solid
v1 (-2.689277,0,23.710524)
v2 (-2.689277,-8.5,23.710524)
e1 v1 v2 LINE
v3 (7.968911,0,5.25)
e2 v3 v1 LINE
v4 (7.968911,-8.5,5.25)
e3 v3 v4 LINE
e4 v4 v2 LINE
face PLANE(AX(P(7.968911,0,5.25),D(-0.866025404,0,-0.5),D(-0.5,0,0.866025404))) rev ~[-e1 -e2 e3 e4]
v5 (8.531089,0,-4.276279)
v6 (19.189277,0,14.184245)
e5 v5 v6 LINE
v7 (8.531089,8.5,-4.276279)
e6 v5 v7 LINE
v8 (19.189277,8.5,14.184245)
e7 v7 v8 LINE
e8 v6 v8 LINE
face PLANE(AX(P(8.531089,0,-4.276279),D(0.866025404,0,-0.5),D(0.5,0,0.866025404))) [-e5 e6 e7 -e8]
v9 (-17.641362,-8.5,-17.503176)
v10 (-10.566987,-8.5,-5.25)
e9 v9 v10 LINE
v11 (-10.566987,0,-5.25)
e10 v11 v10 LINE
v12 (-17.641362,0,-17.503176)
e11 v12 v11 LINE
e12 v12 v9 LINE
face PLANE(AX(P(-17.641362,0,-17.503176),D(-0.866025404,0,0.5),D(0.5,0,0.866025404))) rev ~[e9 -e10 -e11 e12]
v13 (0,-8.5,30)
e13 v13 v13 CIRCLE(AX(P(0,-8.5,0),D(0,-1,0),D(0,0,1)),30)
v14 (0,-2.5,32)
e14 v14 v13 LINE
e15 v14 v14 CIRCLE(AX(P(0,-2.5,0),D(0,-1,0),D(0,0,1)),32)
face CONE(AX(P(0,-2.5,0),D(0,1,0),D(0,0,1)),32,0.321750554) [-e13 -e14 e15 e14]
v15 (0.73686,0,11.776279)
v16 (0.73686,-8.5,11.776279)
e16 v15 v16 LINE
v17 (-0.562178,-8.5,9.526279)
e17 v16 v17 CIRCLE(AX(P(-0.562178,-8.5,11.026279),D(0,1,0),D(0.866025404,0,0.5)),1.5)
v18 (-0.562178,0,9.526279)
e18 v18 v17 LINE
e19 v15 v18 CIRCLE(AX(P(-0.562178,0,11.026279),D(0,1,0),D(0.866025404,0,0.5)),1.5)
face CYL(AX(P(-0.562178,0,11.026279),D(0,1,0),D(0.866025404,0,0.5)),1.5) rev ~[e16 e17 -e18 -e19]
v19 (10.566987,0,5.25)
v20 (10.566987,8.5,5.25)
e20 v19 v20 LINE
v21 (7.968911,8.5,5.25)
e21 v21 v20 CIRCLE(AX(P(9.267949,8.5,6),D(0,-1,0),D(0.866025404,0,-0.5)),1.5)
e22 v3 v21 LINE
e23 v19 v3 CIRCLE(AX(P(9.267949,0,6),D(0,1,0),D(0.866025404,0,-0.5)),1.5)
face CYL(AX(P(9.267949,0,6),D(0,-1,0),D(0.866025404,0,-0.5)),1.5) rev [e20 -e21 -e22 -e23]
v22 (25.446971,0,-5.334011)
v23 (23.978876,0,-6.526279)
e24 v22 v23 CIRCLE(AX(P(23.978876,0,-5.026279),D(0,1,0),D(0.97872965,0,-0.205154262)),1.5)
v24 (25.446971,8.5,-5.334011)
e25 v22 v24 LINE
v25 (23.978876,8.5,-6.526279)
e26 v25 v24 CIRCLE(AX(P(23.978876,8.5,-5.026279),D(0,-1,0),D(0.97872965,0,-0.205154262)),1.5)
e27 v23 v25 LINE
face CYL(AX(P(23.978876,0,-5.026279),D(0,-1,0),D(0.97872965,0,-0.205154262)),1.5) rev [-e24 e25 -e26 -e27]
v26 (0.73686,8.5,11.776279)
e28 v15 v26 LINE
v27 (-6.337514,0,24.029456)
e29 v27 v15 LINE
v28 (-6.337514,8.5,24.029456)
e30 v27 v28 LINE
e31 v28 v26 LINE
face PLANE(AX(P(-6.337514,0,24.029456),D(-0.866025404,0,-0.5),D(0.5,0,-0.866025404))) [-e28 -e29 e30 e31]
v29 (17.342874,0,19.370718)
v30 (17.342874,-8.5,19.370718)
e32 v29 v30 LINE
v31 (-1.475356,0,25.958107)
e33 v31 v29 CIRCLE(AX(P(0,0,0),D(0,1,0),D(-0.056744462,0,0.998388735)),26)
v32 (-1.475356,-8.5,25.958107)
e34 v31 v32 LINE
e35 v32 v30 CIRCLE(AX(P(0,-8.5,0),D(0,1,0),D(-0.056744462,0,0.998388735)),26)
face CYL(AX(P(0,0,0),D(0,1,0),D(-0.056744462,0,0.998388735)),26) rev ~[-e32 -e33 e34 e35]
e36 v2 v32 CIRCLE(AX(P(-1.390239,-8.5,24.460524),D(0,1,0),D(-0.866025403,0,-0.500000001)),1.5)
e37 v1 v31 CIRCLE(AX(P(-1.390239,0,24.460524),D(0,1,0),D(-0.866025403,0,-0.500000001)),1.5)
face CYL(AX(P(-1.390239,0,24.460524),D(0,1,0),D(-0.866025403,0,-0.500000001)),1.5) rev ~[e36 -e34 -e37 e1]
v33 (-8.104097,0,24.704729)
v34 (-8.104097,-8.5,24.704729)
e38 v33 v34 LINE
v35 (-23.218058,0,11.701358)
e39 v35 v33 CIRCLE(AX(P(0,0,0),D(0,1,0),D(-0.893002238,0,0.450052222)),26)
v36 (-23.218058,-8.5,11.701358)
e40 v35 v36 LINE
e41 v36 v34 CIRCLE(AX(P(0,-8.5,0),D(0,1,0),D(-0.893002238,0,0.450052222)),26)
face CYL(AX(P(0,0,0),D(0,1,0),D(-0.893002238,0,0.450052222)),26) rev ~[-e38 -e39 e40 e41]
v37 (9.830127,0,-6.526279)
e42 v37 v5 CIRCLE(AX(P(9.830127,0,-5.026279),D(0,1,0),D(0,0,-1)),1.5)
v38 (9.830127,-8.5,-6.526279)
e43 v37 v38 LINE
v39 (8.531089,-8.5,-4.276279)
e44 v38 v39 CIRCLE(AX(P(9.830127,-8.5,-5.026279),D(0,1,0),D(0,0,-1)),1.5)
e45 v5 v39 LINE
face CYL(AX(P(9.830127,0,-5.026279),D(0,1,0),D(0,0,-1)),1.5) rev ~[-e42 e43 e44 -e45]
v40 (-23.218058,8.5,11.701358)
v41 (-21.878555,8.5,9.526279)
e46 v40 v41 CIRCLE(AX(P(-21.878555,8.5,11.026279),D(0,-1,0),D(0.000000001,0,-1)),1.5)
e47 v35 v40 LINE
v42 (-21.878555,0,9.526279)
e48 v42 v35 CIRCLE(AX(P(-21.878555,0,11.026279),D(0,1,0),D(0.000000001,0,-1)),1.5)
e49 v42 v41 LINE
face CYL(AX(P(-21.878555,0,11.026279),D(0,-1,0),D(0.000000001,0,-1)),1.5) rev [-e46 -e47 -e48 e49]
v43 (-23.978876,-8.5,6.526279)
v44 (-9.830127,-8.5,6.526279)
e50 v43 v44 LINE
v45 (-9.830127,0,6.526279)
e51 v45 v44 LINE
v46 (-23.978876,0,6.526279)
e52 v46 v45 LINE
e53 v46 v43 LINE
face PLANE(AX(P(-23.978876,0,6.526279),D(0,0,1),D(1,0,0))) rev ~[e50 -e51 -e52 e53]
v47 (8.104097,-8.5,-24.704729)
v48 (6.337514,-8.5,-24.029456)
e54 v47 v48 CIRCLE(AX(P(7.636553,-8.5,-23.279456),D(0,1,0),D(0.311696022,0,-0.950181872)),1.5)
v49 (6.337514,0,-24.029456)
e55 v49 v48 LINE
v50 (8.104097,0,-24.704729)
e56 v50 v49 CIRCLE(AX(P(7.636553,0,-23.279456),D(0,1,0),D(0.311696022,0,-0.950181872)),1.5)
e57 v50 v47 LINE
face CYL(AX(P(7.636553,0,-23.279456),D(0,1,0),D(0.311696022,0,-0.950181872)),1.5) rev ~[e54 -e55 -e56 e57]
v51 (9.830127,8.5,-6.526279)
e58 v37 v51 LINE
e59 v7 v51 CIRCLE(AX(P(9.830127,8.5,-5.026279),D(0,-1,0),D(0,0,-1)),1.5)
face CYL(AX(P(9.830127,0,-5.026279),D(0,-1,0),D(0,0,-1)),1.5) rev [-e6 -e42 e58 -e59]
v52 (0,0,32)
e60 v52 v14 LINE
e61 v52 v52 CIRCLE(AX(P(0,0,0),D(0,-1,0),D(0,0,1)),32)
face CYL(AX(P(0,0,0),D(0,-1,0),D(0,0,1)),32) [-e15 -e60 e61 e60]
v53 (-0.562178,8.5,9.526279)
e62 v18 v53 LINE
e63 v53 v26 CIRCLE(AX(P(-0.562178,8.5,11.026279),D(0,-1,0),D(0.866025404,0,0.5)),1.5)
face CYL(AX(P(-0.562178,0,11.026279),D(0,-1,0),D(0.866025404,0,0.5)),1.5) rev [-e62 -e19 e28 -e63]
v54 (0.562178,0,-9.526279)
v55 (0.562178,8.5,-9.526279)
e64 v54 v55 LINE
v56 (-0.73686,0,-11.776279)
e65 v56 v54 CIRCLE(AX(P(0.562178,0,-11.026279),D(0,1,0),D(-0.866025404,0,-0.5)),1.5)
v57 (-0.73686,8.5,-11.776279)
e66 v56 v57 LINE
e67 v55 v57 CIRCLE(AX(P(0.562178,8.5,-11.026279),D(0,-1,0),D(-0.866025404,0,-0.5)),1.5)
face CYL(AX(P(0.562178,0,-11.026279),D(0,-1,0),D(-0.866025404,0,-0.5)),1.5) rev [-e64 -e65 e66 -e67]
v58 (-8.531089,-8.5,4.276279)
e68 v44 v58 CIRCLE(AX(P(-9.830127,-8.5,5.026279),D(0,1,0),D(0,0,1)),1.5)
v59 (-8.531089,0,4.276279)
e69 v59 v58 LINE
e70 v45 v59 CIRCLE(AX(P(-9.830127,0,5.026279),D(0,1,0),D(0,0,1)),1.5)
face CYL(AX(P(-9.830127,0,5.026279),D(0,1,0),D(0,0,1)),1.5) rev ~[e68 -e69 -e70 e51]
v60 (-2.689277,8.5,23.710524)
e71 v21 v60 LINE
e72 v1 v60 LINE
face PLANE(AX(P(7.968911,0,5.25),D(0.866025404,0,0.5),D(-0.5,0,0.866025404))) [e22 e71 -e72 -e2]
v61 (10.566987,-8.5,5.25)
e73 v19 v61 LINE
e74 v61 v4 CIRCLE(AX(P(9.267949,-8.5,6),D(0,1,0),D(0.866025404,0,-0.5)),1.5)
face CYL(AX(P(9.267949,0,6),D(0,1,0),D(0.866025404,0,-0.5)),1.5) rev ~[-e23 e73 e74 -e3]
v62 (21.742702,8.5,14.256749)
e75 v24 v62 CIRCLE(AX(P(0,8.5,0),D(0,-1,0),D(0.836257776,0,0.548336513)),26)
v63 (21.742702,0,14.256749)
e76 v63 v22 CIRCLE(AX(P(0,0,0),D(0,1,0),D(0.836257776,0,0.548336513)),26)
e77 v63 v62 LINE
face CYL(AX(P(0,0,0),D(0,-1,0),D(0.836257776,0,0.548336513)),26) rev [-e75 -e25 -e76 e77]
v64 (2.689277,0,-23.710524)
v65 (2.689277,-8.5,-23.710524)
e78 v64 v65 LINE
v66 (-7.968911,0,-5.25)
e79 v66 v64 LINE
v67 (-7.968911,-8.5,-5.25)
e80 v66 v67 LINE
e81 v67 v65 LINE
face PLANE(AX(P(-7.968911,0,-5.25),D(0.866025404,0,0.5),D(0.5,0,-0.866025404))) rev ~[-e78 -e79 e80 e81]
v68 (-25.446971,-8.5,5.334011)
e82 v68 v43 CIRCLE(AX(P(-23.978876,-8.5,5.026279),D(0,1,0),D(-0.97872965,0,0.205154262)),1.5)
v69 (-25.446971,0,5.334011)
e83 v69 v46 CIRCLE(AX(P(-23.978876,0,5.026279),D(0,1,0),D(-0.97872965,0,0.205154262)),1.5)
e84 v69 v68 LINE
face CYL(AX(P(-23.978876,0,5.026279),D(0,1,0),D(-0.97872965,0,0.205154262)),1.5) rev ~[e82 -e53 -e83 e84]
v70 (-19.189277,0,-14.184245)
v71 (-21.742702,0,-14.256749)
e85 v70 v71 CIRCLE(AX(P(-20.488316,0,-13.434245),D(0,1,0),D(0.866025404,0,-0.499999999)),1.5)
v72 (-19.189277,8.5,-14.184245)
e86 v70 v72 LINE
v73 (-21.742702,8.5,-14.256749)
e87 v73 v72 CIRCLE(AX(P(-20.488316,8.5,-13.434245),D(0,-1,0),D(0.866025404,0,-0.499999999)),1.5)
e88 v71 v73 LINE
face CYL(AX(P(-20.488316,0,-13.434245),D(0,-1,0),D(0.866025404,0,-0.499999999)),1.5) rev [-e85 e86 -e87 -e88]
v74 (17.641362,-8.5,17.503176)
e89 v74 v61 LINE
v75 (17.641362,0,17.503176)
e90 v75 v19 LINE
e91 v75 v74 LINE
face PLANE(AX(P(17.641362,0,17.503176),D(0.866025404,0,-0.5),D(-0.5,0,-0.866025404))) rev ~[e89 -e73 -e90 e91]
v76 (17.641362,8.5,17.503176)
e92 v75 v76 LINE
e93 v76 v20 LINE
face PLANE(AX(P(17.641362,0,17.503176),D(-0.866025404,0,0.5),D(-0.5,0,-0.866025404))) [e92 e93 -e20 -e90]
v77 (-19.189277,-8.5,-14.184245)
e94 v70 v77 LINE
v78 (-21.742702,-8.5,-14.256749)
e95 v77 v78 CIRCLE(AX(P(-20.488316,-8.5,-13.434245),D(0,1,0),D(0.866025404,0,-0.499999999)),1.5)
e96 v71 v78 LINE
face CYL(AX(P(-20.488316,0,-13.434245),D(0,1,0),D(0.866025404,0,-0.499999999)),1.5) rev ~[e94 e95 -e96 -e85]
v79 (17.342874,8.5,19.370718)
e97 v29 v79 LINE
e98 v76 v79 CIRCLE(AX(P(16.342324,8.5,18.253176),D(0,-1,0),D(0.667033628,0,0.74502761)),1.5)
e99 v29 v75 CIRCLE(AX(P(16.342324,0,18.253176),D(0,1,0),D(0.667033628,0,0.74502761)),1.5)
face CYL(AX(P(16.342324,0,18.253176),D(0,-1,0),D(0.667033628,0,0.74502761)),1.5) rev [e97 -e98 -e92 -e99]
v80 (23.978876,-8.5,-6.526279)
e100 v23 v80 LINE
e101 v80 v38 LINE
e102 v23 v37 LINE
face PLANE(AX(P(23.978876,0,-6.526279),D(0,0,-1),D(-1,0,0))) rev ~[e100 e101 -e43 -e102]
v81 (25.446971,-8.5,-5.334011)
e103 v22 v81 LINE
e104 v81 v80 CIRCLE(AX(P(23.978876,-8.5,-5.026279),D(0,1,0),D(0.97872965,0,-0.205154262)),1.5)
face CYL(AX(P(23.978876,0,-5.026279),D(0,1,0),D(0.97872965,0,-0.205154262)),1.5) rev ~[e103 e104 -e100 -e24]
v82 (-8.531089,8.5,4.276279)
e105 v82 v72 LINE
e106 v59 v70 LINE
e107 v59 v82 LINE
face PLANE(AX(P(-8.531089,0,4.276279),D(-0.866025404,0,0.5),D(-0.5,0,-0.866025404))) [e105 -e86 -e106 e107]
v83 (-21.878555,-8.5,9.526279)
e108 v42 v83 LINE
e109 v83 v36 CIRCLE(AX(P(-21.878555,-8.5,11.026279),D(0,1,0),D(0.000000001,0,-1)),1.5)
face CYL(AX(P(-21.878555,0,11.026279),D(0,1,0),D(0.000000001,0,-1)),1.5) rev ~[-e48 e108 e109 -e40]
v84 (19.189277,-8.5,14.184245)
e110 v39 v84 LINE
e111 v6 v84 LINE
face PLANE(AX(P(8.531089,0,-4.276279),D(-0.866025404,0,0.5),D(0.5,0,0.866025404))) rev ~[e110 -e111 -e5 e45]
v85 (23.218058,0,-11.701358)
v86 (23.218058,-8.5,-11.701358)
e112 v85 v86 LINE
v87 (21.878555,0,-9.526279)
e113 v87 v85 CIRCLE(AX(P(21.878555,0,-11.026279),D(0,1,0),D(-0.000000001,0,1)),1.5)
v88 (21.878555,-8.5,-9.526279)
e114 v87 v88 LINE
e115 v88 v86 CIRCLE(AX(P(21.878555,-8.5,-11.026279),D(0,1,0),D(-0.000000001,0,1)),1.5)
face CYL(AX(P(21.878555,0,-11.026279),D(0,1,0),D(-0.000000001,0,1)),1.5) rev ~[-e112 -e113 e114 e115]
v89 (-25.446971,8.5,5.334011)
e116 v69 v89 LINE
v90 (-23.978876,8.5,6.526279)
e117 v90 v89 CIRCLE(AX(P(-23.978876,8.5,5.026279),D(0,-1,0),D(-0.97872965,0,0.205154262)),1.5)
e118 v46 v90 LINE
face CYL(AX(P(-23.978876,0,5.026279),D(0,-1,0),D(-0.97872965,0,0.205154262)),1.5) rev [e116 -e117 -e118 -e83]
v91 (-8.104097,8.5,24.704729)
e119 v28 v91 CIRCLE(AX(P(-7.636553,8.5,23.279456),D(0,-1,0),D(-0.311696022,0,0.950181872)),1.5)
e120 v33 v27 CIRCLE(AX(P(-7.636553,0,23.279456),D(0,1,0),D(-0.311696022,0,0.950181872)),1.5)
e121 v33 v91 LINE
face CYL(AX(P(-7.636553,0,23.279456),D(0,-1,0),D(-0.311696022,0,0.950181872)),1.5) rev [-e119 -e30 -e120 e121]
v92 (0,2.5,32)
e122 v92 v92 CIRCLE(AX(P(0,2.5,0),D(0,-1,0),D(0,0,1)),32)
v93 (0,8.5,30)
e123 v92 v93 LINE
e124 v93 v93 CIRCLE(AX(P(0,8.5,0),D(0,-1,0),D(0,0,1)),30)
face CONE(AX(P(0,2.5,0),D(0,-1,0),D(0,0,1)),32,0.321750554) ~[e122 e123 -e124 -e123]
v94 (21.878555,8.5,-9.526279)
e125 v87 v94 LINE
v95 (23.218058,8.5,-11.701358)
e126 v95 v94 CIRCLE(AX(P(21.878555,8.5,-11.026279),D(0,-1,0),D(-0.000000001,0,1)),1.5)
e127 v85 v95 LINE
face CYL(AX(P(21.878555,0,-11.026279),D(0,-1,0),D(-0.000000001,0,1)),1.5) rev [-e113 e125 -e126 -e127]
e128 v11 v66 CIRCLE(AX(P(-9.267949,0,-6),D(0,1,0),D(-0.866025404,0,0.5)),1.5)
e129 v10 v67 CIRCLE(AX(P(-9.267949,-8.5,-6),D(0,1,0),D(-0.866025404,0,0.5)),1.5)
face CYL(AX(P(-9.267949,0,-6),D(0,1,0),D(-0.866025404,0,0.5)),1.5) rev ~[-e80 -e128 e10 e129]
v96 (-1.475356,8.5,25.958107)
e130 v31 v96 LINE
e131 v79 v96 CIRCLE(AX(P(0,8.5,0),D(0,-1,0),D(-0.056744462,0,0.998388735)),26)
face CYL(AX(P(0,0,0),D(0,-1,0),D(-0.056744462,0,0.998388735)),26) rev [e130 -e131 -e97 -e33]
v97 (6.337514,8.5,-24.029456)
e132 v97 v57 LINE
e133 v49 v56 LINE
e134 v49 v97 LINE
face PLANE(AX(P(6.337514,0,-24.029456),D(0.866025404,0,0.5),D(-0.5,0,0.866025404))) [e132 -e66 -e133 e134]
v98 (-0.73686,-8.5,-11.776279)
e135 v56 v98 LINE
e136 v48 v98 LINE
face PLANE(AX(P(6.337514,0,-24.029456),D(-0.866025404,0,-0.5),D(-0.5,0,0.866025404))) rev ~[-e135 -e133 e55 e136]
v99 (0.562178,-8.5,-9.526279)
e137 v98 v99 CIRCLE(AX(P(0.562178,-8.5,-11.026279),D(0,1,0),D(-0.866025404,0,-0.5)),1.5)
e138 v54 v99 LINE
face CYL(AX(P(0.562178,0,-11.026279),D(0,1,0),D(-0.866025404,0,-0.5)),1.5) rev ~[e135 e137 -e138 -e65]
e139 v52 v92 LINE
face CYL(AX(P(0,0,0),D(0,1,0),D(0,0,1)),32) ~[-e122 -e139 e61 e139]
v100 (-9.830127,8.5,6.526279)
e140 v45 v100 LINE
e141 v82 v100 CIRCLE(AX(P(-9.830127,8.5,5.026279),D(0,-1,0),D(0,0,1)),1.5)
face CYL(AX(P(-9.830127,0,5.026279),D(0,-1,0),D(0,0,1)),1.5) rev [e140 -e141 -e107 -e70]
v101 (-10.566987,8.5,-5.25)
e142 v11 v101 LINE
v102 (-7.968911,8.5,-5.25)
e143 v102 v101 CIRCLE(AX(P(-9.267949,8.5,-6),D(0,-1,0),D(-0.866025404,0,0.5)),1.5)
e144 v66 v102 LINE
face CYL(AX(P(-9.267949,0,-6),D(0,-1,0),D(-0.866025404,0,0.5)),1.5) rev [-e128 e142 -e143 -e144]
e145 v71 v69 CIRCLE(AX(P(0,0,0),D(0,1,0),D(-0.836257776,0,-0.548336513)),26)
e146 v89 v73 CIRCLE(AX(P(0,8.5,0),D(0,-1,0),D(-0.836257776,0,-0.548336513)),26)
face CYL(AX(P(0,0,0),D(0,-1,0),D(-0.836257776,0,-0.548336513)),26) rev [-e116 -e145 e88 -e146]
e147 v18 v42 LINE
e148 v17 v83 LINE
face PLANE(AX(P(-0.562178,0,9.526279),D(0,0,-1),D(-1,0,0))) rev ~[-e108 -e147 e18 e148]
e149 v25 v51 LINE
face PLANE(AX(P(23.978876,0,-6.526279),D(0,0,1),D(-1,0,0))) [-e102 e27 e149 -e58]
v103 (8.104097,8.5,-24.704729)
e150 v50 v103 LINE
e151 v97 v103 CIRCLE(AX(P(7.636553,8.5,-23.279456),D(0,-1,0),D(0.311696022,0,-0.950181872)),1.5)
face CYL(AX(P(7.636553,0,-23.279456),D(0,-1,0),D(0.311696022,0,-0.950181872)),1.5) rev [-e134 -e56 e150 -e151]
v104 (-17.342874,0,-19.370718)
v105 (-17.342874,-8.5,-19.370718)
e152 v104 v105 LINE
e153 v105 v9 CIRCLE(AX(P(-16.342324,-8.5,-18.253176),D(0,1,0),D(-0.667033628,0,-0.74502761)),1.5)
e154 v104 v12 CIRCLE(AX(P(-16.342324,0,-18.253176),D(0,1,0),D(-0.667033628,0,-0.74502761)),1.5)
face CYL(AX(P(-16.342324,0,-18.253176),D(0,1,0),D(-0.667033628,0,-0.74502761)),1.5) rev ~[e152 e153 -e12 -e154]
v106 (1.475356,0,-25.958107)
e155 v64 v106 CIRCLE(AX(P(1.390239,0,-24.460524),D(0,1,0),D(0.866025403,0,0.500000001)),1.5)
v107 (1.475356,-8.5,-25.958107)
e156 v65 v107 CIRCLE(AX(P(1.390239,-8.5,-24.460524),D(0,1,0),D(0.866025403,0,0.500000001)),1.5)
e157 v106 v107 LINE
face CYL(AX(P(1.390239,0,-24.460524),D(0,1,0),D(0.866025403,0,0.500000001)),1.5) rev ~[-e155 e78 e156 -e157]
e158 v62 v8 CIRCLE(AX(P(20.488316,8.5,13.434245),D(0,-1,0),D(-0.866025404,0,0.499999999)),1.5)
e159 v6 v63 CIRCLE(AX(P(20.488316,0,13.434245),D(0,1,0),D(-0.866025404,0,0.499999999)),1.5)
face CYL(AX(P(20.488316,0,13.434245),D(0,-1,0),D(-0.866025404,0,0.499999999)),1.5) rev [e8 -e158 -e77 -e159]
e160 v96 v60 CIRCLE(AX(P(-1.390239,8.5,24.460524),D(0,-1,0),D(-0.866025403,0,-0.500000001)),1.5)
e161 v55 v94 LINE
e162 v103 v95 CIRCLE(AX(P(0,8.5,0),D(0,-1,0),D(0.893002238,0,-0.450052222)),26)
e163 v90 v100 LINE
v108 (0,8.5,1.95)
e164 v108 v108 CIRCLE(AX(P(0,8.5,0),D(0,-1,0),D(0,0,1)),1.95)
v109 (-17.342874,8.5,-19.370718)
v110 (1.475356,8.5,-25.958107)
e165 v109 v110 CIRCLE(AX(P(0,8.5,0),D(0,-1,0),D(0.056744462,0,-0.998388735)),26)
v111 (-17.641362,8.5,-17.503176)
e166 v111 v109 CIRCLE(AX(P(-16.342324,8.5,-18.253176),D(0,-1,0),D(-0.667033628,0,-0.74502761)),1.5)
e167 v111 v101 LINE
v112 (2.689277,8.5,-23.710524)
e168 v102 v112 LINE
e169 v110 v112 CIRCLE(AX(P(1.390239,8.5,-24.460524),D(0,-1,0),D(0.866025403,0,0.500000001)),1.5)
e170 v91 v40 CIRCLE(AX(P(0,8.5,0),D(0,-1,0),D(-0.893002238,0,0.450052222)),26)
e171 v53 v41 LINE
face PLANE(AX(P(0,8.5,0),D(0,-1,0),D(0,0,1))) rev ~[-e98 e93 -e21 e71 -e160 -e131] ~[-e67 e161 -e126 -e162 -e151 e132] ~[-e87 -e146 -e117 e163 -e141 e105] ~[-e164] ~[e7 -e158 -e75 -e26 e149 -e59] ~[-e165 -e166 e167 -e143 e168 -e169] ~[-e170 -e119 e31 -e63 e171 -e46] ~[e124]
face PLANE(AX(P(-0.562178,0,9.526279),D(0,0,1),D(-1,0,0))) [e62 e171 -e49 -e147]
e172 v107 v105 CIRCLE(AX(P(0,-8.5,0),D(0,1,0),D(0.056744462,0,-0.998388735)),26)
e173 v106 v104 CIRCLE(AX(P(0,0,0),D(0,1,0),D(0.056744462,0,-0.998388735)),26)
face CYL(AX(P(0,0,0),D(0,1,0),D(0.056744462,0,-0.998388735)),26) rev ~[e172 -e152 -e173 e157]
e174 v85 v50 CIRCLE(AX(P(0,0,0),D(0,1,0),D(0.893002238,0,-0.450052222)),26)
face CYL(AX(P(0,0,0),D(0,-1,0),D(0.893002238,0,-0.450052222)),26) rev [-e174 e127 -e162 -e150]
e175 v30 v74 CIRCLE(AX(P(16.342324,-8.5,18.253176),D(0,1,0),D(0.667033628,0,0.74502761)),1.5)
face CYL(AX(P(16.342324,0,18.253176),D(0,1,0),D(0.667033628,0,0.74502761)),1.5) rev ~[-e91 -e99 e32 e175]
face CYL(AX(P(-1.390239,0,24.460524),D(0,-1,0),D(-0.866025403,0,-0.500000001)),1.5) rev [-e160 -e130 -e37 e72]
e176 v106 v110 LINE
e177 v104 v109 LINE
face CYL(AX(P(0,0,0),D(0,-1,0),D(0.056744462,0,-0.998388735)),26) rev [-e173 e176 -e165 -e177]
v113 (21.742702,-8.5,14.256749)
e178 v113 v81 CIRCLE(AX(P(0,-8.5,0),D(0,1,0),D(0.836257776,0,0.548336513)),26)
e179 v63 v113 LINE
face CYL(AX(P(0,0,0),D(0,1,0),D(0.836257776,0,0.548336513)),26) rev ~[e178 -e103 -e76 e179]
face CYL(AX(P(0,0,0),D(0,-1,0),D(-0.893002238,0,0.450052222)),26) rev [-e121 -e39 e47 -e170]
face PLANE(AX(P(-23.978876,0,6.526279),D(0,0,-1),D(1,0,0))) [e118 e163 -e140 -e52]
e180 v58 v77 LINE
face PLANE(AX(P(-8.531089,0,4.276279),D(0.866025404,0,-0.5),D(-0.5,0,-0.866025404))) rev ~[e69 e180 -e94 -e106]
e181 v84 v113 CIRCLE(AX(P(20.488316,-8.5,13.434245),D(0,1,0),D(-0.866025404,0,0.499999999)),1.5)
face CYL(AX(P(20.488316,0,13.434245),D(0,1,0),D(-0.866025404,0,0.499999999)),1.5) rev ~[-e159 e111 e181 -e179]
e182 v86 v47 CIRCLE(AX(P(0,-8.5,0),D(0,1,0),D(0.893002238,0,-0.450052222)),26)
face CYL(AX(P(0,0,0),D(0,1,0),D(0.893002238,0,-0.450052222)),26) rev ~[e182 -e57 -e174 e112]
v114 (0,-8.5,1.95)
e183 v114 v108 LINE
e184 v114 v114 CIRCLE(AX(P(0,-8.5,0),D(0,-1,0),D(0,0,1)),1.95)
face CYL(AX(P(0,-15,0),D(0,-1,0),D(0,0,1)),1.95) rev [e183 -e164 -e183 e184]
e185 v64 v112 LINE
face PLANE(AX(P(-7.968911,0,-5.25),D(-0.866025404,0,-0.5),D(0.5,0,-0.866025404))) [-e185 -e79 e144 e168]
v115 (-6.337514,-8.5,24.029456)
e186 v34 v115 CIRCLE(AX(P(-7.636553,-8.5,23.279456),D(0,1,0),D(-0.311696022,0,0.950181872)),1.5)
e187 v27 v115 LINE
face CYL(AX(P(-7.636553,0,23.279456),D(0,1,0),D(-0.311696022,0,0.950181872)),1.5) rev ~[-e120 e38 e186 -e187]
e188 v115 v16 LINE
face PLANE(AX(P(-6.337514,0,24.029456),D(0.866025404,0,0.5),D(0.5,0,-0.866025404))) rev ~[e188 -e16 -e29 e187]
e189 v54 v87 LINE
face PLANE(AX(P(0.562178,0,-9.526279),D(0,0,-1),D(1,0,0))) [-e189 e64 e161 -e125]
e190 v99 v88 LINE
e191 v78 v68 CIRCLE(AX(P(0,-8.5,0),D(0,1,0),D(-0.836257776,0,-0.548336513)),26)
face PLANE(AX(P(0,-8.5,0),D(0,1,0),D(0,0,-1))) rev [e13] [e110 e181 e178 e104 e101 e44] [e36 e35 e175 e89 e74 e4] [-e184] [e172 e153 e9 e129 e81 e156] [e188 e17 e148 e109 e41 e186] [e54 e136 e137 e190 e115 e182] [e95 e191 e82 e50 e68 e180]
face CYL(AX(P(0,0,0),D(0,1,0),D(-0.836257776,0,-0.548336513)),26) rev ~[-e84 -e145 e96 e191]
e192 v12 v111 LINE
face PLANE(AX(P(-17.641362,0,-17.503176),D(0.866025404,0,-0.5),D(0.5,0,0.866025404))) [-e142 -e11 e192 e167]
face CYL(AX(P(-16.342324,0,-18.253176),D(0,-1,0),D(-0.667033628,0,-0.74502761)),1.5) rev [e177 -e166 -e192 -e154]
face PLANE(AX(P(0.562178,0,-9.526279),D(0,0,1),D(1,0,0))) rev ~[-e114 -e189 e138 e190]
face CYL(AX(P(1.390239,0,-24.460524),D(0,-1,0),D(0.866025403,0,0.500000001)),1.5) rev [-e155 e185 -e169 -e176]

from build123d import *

# Parameters (mm, degrees)
CUT_EXTRUDE1_REACH             = 48.046
CUT_EXTRUDE1_DIRECTION_2_REACH = 48.046
CIRPATTERN1_COUNT              = 6
CUT_EXTRUDE2_DEPTH             = 15
CUT_EXTRUDE2_DEPTH_BACK        = 15
SKETCH6_R                      = 1.95


with BuildPart() as part:
    # Sketch2 → Revolve1 (revolve)
    with BuildSketch(Plane.XY, mode=Mode.PRIVATE) as revolve1_sk:
        Polygon((0, 0), (32, 0), (32, 2.5), (30, 8.5), (0, 8.5), align=None)
    revolve1 = revolve(revolve1_sk.sketch.rotate(Axis((0, 8.5, 0), (0, -1, 0)), 90), axis=Axis((0, 8.5, 0), (0, -1, 0)))

    # Mirror1: Revolve1 across plane
    add(revolve1.mirror(Plane.ZX))

    # Cut-Extrude1: up to this face of the body (flat: up to its plane)
    cut_extrude1_end = Plane(part.part.faces().sort_by_distance((0, 8.5, 0))[0])
    # Sketch3 → Cut-Extrude1 (cut, up to the picked face)
    with BuildSketch(Plane(origin=(0, 0, 0), x_dir=(1, 0, 0), z_dir=(0, 1, 0)), mode=Mode.PRIVATE) as cut_extrude1_sk1:
        with BuildLine():
            Line((0.562177826, 9.526279442), (5.5, 9.526279442))
            Line((5.5, 9.526279442), (21.878554835, 9.526279442))
            ThreePointArc((21.878554835, 9.526279442), (23.155781812, 10.23971015), (23.218058192, 11.701357775))
            ThreePointArc((23.218058192, 11.701357775), (16.957041557, 19.709356703), (8.104096566, 24.704728674))
            ThreePointArc((8.104096566, 24.704728674), (7.100974397, 24.680582577), (6.337514428, 24.029455866))
            Line((6.337514428, 24.029455866), (-0.736860279, 11.776279442))
            ThreePointArc((-0.736860279, 11.776279442), (-0.736860279, 10.276279442), (0.562177826, 9.526279442))
        make_face()
    cut_extrude1_tool1 = split(extrude(cut_extrude1_sk1.sketch, amount=CUT_EXTRUDE1_REACH, mode=Mode.PRIVATE), bisect_by=cut_extrude1_end, keep=Keep.BOTH, mode=Mode.PRIVATE)
    cut_extrude1 = cut_extrude1_tool1.solids().sort_by(Axis((10.856856, 0, -15.344995), (0, 1, 0)))[0]
    add(cut_extrude1, mode=Mode.SUBTRACT)

    # Cut-Extrude1 direction 2: up to this face of the body (flat: up to its plane)
    cut_extrude1_direction_2_end = Plane(part.part.faces().sort_by_distance((0, -8.5, 0))[0])
    # Sketch3 → Cut-Extrude1 direction 2 (cut, up to the picked face)
    with BuildSketch(Plane(origin=(0, 0, 0), x_dir=(1, 0, 0), z_dir=(0, 1, 0)), mode=Mode.PRIVATE) as cut_extrude1_direction_2_sk1:
        with BuildLine():
            Line((0.562177826, 9.526279442), (5.5, 9.526279442))
            Line((5.5, 9.526279442), (21.878554835, 9.526279442))
            ThreePointArc((21.878554835, 9.526279442), (23.155781812, 10.23971015), (23.218058192, 11.701357775))
            ThreePointArc((23.218058192, 11.701357775), (16.957041557, 19.709356703), (8.104096566, 24.704728674))
            ThreePointArc((8.104096566, 24.704728674), (7.100974397, 24.680582577), (6.337514428, 24.029455866))
            Line((6.337514428, 24.029455866), (-0.736860279, 11.776279442))
            ThreePointArc((-0.736860279, 11.776279442), (-0.736860279, 10.276279442), (0.562177826, 9.526279442))
        make_face()
    cut_extrude1_direction_2_tool1 = split(extrude(cut_extrude1_direction_2_sk1.sketch, amount=-CUT_EXTRUDE1_DIRECTION_2_REACH, mode=Mode.PRIVATE), bisect_by=cut_extrude1_direction_2_end, keep=Keep.BOTH, mode=Mode.PRIVATE)
    cut_extrude1_direction_2 = cut_extrude1_direction_2_tool1.solids().sort_by(Axis((10.856856, 0, -15.344995), (0, -1, 0)))[0]
    add(cut_extrude1_direction_2, mode=Mode.SUBTRACT)

    # CirPattern1: Cut-Extrude1, Cut-Extrude1 direction 2 ×6 about axis
    cirpattern1_axis = Axis((0, 0, 0), (0, 1, 0))
    add([cut_extrude1.rotate(cirpattern1_axis, i * 360 / CIRPATTERN1_COUNT) for i in range(1, CIRPATTERN1_COUNT)], mode=Mode.SUBTRACT)
    add([cut_extrude1_direction_2.rotate(cirpattern1_axis, i * 360 / CIRPATTERN1_COUNT) for i in range(1, CIRPATTERN1_COUNT)], mode=Mode.SUBTRACT)

    # Sketch6 → Cut-Extrude2 (cut, two sides: drawn at the far end of the back side and taken through both)
    with BuildSketch(Plane(origin=(0, 0, 0), x_dir=(1, 0, 0), z_dir=(0, 1, 0)).offset(-CUT_EXTRUDE2_DEPTH_BACK)):
        with Locations(Location((0, 0, 0), (0, 0, 270))):
            Circle(SKETCH6_R)
    extrude(amount=CUT_EXTRUDE2_DEPTH + CUT_EXTRUDE2_DEPTH_BACK, mode=Mode.SUBTRACT)


solid = part.part
